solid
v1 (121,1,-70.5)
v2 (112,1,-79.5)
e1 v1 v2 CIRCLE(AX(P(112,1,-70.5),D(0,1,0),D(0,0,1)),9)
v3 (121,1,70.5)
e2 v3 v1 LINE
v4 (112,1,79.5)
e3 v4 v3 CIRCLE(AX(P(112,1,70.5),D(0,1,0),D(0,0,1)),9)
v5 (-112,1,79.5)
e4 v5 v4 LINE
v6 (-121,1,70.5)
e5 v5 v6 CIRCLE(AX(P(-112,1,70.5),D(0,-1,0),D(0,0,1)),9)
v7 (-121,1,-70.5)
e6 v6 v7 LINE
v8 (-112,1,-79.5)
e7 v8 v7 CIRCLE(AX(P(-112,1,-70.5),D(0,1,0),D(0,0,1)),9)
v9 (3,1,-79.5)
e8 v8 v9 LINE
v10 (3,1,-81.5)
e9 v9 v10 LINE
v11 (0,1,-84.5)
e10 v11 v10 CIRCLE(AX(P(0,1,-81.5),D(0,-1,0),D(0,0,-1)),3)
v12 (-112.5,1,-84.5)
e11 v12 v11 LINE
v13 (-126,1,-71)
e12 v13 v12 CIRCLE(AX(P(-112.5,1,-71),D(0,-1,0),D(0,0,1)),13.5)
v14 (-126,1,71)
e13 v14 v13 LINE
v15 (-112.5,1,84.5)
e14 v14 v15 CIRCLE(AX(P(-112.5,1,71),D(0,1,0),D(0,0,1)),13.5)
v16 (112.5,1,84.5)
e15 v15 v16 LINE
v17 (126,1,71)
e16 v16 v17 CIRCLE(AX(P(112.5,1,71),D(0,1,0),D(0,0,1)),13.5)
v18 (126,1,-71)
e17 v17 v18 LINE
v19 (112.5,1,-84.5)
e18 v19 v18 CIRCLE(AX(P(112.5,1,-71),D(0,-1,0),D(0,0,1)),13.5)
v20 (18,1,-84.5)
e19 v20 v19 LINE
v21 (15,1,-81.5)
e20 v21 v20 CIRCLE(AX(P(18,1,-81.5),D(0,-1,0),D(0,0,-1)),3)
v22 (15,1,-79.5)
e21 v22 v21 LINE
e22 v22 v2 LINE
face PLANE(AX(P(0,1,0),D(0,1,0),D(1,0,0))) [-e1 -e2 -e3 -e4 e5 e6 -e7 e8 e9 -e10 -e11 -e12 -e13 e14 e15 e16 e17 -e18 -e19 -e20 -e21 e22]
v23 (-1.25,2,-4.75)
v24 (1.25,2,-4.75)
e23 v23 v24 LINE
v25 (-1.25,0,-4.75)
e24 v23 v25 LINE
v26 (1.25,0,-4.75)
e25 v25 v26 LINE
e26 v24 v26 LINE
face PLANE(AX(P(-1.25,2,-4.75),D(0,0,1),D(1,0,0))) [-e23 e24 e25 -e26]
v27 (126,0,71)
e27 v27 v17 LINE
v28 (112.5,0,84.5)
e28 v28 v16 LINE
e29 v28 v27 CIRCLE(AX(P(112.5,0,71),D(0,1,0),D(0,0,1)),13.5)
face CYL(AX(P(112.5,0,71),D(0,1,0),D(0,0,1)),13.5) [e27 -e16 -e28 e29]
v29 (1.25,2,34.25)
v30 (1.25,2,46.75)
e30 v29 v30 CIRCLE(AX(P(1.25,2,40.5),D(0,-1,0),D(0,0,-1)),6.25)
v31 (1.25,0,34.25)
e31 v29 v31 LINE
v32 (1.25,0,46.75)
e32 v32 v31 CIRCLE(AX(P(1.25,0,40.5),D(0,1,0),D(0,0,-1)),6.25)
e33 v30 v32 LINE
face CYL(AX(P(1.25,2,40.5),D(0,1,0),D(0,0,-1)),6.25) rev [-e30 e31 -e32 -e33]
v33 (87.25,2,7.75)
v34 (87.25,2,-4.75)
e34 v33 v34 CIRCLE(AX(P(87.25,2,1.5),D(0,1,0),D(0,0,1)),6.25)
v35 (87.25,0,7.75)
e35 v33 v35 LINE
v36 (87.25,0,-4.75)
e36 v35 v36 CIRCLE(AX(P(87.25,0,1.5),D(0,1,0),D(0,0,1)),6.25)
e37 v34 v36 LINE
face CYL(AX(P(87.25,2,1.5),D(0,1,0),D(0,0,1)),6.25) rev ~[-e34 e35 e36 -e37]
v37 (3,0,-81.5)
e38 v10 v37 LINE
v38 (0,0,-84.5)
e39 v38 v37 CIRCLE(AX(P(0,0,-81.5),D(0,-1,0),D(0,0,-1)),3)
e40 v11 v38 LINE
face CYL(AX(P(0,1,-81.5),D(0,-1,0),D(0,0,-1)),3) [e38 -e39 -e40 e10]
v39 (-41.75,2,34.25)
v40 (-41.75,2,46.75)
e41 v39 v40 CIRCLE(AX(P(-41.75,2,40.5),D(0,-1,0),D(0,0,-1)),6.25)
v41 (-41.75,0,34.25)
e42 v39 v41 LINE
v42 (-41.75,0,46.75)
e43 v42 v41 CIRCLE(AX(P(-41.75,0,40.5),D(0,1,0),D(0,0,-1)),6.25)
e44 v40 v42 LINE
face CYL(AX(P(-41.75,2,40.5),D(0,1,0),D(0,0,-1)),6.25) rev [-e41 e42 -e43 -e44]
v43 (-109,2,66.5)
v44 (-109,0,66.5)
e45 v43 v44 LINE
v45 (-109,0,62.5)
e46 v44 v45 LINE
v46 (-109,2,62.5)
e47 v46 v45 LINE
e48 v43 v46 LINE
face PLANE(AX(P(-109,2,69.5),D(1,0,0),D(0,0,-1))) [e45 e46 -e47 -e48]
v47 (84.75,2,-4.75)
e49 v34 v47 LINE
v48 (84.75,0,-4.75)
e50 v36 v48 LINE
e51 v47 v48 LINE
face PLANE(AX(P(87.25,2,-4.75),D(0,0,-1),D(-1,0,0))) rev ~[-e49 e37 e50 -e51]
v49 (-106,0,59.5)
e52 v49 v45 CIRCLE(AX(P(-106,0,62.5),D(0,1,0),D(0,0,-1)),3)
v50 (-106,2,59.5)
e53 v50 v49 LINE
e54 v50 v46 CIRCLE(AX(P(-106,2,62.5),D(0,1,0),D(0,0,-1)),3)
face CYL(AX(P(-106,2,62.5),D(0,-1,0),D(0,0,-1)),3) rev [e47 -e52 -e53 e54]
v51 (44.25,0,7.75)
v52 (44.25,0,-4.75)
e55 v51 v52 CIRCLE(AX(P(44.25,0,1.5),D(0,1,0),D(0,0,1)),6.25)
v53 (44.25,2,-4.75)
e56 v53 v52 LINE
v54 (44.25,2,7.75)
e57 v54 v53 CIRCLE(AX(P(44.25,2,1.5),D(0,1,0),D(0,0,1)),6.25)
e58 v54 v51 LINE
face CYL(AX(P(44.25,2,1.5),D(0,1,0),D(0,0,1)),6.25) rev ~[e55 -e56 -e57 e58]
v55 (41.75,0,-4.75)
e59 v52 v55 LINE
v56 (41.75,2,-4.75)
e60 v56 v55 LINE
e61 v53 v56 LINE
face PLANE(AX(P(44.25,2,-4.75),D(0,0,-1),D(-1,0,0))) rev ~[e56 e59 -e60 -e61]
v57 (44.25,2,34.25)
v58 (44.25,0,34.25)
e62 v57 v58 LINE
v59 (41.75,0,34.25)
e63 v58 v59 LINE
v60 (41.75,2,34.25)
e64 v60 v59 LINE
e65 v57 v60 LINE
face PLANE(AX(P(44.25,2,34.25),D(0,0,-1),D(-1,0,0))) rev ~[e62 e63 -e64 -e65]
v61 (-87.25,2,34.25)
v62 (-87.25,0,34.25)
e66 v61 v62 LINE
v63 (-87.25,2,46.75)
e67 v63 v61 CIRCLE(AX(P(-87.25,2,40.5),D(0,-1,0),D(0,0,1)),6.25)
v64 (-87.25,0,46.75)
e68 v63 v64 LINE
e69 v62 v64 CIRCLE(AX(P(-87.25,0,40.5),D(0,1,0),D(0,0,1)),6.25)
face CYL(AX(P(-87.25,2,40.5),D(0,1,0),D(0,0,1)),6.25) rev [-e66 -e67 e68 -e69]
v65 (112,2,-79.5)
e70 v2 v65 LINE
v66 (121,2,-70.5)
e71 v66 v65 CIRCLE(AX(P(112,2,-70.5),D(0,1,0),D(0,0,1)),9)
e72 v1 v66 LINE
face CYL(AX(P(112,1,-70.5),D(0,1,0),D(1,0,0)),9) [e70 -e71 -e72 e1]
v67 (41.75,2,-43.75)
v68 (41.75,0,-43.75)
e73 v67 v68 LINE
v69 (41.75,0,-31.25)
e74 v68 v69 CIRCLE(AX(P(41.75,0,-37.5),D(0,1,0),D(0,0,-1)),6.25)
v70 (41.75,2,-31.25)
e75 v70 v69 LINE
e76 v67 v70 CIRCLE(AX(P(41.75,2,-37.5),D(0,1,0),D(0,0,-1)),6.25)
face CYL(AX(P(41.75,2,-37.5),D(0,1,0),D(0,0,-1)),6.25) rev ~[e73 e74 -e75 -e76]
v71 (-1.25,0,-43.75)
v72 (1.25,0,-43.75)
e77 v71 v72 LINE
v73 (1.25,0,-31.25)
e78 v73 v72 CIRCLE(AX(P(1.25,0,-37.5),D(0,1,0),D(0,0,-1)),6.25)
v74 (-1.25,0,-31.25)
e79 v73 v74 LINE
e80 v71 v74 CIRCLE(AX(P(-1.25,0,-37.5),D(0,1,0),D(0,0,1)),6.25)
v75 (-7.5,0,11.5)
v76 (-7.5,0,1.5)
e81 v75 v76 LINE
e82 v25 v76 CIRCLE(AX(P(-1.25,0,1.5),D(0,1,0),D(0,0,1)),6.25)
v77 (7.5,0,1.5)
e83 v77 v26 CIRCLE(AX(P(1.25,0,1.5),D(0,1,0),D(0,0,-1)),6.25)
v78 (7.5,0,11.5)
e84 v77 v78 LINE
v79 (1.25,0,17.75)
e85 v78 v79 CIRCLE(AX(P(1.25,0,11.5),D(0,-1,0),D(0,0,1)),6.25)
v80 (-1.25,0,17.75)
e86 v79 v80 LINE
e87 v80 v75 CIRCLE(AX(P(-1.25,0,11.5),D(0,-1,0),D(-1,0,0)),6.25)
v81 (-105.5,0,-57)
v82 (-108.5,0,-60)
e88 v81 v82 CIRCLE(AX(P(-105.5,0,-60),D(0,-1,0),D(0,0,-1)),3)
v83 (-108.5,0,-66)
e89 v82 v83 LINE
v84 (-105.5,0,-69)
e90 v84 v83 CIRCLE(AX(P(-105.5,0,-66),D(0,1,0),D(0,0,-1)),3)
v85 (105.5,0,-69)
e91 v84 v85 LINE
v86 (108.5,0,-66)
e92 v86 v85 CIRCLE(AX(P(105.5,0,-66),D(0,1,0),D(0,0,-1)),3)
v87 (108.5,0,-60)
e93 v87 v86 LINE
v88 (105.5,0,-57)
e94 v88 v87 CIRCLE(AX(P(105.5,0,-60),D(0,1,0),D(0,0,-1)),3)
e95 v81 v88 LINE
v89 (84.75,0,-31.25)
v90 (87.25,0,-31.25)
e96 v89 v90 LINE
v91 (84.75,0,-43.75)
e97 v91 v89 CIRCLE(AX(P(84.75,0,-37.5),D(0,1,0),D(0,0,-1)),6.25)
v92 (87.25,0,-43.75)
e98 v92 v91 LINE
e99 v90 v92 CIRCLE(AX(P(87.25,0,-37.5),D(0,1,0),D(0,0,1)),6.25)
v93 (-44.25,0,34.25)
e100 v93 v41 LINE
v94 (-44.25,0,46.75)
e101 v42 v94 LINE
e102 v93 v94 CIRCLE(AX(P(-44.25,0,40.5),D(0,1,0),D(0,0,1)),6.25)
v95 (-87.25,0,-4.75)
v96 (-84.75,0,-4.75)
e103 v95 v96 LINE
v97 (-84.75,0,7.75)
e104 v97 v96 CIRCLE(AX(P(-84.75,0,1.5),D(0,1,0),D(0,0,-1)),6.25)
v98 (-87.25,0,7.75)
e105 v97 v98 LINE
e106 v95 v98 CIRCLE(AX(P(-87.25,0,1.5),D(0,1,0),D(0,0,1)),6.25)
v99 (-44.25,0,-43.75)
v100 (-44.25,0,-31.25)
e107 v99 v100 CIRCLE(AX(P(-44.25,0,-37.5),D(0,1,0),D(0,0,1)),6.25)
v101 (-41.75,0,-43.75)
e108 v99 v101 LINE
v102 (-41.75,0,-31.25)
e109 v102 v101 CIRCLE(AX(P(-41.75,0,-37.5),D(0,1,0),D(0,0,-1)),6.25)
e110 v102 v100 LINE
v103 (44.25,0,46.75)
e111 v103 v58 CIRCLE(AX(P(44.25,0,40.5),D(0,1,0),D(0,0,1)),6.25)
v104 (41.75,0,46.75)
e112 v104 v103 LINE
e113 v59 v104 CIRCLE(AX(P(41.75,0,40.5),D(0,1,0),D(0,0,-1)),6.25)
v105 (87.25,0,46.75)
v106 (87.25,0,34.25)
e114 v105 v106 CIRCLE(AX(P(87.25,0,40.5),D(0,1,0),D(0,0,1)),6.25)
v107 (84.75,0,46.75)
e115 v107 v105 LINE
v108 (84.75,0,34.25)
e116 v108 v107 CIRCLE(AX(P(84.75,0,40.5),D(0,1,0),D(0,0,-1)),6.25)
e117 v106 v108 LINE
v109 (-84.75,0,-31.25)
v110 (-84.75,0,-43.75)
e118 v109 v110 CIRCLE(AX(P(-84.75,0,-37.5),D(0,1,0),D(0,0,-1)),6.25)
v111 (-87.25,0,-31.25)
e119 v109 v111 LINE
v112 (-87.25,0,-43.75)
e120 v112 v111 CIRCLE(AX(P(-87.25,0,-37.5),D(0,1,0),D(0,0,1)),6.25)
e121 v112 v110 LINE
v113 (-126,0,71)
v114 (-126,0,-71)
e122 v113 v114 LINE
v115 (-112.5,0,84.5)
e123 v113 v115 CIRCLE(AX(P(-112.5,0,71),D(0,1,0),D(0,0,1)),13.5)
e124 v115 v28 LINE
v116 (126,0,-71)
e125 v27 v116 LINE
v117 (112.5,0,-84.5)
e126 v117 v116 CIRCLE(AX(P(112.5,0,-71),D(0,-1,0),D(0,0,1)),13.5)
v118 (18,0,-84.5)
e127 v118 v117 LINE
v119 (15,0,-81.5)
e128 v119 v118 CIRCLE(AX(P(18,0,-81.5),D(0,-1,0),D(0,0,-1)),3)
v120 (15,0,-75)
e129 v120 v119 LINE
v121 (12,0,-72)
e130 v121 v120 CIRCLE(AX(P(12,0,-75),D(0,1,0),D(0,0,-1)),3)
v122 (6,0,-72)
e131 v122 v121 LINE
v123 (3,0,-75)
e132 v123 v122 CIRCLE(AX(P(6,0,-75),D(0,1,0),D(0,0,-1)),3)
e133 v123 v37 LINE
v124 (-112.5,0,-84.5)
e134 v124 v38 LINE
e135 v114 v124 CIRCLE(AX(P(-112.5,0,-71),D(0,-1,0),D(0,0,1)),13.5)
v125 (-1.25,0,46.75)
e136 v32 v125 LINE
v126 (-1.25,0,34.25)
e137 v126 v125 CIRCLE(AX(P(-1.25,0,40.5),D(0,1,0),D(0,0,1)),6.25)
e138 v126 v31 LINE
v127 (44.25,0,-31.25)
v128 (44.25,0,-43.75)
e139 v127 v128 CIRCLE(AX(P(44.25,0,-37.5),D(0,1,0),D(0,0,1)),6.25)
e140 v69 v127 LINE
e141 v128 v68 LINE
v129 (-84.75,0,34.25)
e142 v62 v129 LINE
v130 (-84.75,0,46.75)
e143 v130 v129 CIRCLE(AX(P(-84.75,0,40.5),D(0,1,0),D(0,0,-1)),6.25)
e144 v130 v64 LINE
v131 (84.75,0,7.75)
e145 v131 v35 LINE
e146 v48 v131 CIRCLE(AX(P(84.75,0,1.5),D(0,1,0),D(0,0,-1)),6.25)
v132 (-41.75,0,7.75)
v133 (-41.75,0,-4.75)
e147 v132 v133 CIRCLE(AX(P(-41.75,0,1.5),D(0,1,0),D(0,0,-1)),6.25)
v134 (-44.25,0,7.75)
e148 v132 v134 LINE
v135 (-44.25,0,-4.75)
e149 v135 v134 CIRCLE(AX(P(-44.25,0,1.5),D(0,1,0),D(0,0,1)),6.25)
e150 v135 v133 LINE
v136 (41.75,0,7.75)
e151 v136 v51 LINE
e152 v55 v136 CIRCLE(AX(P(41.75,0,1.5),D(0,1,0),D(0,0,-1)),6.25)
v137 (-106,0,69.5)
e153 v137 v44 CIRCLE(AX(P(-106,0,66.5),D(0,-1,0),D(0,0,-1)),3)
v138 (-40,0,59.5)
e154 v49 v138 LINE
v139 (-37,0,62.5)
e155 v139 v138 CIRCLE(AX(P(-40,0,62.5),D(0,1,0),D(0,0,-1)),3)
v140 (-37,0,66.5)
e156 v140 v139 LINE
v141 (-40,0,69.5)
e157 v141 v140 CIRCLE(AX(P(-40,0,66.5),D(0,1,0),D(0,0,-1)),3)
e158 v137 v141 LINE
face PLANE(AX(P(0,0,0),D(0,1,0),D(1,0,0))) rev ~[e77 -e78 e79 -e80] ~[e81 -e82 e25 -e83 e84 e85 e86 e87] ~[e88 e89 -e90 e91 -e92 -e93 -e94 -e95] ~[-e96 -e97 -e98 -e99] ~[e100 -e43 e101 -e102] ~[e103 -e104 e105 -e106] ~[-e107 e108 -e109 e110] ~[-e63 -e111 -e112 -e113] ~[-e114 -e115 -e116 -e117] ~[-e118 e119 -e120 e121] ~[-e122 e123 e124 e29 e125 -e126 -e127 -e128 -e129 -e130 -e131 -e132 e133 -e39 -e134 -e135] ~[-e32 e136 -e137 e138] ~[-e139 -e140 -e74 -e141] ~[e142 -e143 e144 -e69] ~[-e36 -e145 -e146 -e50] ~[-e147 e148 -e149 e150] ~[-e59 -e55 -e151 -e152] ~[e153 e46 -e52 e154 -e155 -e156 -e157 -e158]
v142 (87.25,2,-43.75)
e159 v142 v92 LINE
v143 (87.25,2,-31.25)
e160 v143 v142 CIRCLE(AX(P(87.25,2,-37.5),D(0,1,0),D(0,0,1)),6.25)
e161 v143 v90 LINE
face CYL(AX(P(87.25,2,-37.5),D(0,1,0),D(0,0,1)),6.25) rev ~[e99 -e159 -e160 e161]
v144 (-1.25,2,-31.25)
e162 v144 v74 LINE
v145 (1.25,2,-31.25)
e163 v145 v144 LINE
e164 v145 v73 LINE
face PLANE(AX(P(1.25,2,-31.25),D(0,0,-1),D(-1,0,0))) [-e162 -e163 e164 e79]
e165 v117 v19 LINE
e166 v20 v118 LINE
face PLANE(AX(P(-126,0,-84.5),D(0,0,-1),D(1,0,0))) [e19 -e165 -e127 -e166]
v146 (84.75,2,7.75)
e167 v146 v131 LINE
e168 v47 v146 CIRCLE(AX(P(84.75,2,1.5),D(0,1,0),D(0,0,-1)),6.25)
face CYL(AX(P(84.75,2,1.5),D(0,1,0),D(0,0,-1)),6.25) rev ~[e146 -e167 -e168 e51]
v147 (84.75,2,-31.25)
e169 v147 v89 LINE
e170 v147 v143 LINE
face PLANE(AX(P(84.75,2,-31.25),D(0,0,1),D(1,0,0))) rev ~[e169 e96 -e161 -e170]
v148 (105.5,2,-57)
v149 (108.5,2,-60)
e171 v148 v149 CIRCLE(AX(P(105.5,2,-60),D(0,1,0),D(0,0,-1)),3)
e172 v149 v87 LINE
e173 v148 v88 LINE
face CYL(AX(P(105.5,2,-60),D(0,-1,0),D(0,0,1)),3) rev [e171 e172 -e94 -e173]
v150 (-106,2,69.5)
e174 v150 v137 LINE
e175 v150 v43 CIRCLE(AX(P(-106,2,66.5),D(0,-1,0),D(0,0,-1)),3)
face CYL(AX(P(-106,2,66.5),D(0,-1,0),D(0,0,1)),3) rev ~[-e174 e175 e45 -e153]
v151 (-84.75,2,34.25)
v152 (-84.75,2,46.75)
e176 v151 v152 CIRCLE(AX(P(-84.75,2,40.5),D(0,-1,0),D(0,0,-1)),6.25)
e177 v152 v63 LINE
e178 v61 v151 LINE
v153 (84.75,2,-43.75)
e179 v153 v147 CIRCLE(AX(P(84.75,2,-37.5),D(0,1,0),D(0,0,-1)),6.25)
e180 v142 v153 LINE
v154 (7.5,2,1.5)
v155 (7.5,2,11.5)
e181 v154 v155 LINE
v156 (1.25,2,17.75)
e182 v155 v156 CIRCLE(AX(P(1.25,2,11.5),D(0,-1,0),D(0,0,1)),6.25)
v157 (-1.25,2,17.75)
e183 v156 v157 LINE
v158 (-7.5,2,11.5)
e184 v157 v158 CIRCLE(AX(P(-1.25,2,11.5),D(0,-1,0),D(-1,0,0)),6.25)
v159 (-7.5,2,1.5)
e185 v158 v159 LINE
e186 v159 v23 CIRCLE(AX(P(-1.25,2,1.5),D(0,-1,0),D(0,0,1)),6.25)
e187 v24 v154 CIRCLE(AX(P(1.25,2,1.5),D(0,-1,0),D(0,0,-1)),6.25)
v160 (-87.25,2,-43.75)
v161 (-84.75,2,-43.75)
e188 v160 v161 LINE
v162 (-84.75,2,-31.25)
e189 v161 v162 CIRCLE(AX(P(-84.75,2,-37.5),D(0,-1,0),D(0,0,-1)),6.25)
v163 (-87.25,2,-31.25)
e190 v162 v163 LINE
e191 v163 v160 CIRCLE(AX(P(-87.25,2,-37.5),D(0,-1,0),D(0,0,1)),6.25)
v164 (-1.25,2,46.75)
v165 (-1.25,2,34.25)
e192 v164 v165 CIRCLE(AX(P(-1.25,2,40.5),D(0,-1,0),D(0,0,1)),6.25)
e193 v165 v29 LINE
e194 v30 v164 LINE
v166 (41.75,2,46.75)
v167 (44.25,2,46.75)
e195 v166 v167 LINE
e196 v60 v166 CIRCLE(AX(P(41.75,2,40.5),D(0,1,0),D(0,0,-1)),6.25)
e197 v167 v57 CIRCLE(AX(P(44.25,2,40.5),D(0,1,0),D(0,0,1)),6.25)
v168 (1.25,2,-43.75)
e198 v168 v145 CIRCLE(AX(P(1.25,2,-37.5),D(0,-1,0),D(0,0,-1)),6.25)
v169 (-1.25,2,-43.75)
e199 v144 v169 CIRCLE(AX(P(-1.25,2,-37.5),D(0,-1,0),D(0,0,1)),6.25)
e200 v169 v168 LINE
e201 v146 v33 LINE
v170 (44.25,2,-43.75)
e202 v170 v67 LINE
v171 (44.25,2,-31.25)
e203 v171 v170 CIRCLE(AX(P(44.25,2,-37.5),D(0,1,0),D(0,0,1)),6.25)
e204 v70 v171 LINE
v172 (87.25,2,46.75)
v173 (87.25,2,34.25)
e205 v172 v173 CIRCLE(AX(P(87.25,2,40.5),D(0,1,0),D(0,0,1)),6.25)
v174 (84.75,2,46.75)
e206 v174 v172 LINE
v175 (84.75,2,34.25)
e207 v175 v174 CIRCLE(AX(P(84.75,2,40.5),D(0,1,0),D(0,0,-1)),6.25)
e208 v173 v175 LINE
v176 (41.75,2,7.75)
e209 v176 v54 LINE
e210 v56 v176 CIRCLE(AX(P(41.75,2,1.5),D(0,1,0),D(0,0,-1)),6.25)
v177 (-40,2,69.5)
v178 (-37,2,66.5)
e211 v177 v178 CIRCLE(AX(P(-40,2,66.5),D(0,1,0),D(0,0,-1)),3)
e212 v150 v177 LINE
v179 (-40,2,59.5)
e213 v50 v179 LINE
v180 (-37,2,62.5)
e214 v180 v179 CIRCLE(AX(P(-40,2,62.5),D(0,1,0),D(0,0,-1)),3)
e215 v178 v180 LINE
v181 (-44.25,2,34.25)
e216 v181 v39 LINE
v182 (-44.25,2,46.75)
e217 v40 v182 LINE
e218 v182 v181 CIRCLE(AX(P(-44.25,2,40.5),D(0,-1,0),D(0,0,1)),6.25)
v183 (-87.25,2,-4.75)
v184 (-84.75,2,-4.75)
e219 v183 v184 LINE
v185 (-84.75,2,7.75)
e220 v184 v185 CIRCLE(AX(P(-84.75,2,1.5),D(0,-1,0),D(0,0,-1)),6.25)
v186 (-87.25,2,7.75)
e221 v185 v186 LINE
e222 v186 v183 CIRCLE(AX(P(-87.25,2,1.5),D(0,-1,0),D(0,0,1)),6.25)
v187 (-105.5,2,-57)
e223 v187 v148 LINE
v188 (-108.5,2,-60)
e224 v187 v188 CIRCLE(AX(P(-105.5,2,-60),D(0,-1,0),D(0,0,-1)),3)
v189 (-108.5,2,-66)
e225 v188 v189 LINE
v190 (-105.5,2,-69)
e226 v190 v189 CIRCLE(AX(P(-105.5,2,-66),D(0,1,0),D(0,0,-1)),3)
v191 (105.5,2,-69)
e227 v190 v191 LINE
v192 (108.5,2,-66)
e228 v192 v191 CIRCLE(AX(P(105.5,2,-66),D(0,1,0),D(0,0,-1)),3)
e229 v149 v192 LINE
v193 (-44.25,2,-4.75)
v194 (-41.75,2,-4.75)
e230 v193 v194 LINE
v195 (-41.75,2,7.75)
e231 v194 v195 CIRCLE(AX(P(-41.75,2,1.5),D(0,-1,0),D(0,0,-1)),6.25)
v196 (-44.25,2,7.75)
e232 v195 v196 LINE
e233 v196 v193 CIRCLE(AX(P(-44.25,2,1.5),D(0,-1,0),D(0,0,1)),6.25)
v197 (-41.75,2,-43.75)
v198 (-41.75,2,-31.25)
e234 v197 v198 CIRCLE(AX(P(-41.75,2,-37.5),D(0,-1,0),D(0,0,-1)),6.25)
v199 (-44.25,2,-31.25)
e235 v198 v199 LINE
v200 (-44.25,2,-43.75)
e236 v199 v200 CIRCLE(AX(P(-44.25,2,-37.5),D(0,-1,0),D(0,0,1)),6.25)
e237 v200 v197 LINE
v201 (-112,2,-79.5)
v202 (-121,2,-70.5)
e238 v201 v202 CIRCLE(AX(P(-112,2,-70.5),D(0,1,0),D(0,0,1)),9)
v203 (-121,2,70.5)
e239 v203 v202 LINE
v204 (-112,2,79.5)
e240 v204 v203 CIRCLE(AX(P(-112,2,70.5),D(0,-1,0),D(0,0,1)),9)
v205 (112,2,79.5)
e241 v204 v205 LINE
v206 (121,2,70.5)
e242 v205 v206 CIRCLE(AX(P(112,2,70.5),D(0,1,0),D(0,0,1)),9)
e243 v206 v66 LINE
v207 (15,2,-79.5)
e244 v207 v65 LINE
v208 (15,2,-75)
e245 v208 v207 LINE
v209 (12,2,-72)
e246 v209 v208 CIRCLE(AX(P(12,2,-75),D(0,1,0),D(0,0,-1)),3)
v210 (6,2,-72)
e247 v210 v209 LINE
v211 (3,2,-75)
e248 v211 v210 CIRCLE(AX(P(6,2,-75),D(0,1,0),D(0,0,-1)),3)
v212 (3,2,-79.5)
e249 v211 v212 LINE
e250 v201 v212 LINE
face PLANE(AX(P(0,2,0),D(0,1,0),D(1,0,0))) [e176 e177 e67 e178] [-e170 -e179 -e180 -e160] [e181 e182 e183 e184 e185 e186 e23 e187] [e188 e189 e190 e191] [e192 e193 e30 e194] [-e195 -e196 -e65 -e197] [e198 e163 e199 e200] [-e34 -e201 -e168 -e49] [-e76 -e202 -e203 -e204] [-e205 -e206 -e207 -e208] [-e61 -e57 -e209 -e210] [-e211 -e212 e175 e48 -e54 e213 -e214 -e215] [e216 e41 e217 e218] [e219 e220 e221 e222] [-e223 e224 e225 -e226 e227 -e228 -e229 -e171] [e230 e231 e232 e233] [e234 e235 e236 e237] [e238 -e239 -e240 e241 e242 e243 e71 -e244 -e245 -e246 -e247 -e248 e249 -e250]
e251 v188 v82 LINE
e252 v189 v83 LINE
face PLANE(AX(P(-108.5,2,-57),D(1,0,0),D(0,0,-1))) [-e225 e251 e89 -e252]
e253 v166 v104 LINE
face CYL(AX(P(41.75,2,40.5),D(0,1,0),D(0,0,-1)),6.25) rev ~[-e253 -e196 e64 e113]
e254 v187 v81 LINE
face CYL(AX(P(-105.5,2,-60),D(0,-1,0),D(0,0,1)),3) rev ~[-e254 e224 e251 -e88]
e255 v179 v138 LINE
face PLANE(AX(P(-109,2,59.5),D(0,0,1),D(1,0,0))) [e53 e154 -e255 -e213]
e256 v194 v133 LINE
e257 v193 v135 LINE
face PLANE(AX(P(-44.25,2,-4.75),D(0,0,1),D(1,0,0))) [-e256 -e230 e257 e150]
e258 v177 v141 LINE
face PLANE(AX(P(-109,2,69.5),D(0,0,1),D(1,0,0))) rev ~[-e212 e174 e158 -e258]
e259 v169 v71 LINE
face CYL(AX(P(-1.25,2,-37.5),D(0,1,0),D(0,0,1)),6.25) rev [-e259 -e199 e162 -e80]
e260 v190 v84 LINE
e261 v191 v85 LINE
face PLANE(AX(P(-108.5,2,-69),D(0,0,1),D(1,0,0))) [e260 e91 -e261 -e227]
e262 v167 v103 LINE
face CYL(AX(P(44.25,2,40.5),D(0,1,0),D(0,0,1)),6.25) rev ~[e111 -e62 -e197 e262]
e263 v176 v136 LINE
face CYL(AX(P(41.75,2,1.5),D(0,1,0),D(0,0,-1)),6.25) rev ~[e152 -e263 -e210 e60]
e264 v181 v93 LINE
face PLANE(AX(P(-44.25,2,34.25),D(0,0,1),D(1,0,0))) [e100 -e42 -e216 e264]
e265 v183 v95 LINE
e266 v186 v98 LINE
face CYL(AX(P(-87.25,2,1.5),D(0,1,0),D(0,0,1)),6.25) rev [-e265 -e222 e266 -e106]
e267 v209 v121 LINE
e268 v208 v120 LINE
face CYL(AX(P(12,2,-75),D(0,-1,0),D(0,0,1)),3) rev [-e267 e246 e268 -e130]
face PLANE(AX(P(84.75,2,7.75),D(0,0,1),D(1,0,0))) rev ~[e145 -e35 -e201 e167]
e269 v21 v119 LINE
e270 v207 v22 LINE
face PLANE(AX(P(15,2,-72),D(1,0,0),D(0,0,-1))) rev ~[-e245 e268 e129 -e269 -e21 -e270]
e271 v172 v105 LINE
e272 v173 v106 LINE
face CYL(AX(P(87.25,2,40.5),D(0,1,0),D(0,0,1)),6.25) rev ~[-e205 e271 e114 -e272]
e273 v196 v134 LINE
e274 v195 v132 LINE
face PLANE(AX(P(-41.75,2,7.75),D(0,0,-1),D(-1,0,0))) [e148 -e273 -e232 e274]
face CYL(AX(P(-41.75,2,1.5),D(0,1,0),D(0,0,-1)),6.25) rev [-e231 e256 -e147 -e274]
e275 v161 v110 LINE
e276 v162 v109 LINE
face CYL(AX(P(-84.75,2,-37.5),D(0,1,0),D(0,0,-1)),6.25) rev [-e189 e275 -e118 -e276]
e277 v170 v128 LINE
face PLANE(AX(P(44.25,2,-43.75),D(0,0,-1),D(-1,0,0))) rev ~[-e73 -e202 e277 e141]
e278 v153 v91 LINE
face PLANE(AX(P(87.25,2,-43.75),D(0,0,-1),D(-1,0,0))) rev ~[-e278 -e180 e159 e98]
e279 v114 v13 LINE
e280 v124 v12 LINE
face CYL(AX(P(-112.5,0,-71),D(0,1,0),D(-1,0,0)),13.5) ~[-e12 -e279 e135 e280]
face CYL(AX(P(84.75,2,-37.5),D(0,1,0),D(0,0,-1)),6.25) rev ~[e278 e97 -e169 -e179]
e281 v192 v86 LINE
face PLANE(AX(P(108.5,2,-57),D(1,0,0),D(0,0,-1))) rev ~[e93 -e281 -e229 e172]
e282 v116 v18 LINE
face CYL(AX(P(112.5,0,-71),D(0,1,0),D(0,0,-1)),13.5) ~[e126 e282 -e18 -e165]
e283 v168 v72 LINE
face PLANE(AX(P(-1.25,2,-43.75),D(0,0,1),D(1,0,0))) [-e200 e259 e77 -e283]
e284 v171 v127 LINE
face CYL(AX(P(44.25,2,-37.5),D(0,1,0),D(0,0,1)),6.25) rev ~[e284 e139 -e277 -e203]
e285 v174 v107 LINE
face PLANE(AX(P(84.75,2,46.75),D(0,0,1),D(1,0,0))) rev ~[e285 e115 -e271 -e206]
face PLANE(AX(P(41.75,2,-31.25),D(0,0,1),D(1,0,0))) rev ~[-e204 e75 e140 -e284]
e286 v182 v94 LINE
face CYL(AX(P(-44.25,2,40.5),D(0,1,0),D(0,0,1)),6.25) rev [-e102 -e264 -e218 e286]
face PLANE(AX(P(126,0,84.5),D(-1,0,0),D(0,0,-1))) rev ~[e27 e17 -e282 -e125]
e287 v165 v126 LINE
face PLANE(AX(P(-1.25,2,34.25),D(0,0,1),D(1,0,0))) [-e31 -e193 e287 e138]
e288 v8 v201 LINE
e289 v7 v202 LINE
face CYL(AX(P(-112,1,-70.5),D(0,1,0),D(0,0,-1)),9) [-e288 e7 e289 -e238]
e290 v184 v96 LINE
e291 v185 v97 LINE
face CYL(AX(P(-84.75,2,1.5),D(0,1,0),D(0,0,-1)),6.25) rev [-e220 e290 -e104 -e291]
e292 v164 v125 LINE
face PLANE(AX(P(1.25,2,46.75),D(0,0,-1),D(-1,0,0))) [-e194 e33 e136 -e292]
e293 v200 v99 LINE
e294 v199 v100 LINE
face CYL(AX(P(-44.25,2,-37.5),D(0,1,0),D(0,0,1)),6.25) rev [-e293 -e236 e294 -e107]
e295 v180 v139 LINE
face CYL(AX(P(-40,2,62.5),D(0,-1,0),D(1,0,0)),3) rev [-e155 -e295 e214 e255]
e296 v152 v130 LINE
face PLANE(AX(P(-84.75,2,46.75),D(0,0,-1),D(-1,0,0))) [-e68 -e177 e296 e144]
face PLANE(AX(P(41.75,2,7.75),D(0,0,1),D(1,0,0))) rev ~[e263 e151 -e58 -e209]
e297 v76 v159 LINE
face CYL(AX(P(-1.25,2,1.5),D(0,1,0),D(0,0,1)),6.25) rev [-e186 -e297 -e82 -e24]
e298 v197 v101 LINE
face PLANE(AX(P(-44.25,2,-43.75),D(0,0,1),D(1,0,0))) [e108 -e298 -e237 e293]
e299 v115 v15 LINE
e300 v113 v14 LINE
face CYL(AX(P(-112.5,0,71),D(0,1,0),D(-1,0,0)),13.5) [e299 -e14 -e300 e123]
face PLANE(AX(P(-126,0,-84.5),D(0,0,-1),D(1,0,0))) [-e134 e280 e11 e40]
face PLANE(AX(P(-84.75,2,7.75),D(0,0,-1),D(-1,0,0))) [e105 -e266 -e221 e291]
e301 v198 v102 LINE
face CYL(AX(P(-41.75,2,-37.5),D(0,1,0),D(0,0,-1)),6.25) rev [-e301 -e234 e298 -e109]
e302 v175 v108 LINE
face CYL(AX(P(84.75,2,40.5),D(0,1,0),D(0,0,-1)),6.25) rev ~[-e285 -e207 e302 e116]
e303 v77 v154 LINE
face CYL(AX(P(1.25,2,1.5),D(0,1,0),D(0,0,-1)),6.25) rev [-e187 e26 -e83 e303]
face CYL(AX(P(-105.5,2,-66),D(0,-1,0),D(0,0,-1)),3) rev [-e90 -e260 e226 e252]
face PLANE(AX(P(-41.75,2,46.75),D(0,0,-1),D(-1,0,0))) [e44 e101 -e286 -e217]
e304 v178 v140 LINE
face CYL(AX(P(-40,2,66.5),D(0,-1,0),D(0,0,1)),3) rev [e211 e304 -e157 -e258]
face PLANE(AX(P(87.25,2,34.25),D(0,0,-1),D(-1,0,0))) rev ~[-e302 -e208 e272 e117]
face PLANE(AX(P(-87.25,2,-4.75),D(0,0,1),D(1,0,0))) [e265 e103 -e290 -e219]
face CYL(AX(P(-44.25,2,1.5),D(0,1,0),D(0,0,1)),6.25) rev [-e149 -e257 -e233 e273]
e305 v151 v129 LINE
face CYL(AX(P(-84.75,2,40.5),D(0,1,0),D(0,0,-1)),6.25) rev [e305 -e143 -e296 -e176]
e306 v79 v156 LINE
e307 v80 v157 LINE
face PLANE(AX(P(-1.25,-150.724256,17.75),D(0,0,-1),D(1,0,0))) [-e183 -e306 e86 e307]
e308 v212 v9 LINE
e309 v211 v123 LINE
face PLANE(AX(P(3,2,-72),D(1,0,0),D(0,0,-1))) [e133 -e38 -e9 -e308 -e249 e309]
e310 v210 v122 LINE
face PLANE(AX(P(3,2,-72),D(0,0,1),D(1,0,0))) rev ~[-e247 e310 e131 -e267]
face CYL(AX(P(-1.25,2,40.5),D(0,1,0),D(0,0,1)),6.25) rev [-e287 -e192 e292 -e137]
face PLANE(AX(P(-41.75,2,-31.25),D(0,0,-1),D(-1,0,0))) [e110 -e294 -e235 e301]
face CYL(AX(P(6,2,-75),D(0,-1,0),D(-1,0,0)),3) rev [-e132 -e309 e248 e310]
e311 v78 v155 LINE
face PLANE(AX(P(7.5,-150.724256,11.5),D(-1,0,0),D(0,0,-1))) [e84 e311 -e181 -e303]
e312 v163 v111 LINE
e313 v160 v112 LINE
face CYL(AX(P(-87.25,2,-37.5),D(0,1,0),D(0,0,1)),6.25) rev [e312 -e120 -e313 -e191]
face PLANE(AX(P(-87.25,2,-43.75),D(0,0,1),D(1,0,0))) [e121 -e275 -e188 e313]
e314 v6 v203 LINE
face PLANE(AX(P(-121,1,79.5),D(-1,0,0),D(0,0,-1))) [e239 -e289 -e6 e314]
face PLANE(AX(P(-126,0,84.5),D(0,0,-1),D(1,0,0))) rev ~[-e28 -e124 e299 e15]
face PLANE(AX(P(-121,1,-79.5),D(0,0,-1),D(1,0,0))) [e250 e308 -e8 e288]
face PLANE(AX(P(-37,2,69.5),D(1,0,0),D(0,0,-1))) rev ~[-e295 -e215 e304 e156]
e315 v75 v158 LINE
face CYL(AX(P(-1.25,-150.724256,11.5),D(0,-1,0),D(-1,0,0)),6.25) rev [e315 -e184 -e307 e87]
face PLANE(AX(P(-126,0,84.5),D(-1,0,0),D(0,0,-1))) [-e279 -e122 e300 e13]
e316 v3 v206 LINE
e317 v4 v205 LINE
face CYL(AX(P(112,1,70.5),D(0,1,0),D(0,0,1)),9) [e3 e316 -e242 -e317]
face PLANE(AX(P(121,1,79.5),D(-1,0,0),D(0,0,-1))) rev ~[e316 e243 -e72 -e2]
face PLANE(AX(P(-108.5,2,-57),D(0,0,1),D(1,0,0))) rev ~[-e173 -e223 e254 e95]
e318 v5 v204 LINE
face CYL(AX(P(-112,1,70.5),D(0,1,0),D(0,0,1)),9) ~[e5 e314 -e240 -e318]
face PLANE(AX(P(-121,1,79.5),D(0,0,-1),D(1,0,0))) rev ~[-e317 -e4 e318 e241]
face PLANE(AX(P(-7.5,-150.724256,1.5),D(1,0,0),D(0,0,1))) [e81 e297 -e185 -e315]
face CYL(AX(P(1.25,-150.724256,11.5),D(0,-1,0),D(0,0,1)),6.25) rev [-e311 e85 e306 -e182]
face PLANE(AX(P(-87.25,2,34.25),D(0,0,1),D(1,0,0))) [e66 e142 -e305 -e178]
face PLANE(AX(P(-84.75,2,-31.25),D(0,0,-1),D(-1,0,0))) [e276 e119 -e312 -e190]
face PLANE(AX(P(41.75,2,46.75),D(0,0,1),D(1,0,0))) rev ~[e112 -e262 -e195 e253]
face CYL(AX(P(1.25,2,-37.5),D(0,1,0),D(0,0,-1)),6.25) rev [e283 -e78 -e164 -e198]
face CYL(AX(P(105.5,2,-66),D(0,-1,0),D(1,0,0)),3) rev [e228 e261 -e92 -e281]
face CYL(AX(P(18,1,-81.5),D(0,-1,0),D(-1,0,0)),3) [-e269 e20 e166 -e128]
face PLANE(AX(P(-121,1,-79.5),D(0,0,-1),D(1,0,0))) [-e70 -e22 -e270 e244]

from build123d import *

# Parameters (mm, degrees)
SKETCH1_W                = 252
SKETCH1_H                = 169
OUTER_PROFILE_DEPTH      = 1
SKETCH2_W                = 242
SKETCH2_H                = 159
INNER_PROFILE_DEPTH      = 1
FILLET1_R                = 9
FILLET2_R                = 13.5
CUTOUT_DEPTH             = 152.724256465
CUTOUTS_COUNT            = 3
CUTOUTS_PITCH            = 43
CUTOUTS_COUNT_DIR2       = 3
CUTOUTS_PITCH_DIR2       = 39
MIRROR1_COPY_1_DEPTH     = 152.724256465
MIRROR1_COPY_2_DEPTH     = 152.724256465
MIRROR1_COPY_3_DEPTH     = 152.724256465
MIRROR1_COPY_4_DEPTH     = 152.724256465
MIRROR1_COPY_5_DEPTH     = 152.724256465
MIRROR1_COPY_6_DEPTH     = 152.724256465
MIRROR1_COPY_7_DEPTH     = 152.724256465
MIRROR1_COPY_8_DEPTH     = 152.724256465
MIRROR1_COPY_9_DEPTH     = 152.724256465
SKETCH4_W                = 217
SKETCH4_H                = 12
MESSAGE_WINDOW_DEPTH     = 152.724256465
MESSAGE_WINDOW_CORNERS_R = 3
SKETCH5_W                = 12
SKETCH5_H                = 12.5
CAMERA_CUTOUT_DEPTH      = 152.724256465
FILLET3_R                = 3
CUT_EXTRUDE1_DEPTH       = 152.724256465
CUT_EXTRUDE1_DEPTH_BACK  = 152.724256465
SKETCH7_W                = 72
SKETCH7_H                = 10
CUT_EXTRUDE2_DEPTH       = 10
FILLET5_R                = 3


with BuildPart() as part:
    # Sketch1 → Outer Profile (new body)
    with BuildSketch(Plane(origin=(0, 0, 0), x_dir=(1, 0, 0), z_dir=(0, 1, 0))):
        Rectangle(SKETCH1_W, SKETCH1_H)
    extrude(amount=OUTER_PROFILE_DEPTH)

    # Sketch2 → Inner Profile (add)
    with BuildSketch(Plane(origin=(0, 1, 0), x_dir=(1, 0, 0), z_dir=(0, 1, 0))):
        Rectangle(SKETCH2_W, SKETCH2_H)
    extrude(amount=INNER_PROFILE_DEPTH)

    # Fillet1
    fillet1_edges = [part.edges().sort_by_distance(p)[0] for p in [
        (121, 1.5, 79.5),
        (121, 1.5, -79.5),
        (-121, 1.5, -79.5),
        (-121, 1.5, 79.5),
    ]]
    fillet(fillet1_edges, radius=FILLET1_R)

    # Fillet2
    fillet2_edges = [part.edges().sort_by_distance(p)[0] for p in [
        (126, 0.5, 84.5),
        (-126, 0.5, 84.5),
        (-126, 0.5, -84.5),
        (126, 0.5, -84.5),
    ]]
    fillet(fillet2_edges, radius=FILLET2_R)

    # Sketch3 → Cutout (cut, through all)
    with BuildSketch(Plane(origin=(0, 2, 0), x_dir=(1, 0, 0), z_dir=(0, 1, 0))):
        with BuildLine():
            Line((-1.25, -34.25), (1.25, -34.25))
            ThreePointArc((1.25, -34.25), (7.5, -40.5), (1.25, -46.75))
            Line((1.25, -46.75), (-1.25, -46.75))
            ThreePointArc((-1.25, -46.75), (-7.5, -40.5), (-1.25, -34.25))
        make_face()
    cutout = extrude(amount=-CUTOUT_DEPTH, mode=Mode.SUBTRACT)

    # Cutouts: Cutout 3 × 3
    with Locations(*[(-i * CUTOUTS_PITCH, 0, -j * CUTOUTS_PITCH_DIR2) for i in range(CUTOUTS_COUNT) for j in range(CUTOUTS_COUNT_DIR2) if (i, j) != (0, 0)]):
        add(cutout, mode=Mode.SUBTRACT)

    # Mirror1 copy 1 sketch → Mirror1 copy 1 (cut, through all)
    with BuildSketch(Plane(origin=(0, 2, -39), x_dir=(-1, 0, 0), z_dir=(0, 1, 0))):
        with BuildLine():
            Line((-1.25, 34.25), (1.25, 34.25))
            ThreePointArc((1.25, 34.25), (7.5, 40.5), (1.25, 46.75))
            Line((1.25, 46.75), (-1.25, 46.75))
            ThreePointArc((-1.25, 46.75), (-7.5, 40.5), (-1.25, 34.25))
        make_face()
    extrude(amount=-MIRROR1_COPY_1_DEPTH, mode=Mode.SUBTRACT)

    # Mirror1 copy 2 sketch → Mirror1 copy 2 (cut, through all)
    with BuildSketch(Plane(origin=(0, 2, -78), x_dir=(-1, 0, 0), z_dir=(0, 1, 0))):
        with BuildLine():
            Line((-1.25, 34.25), (1.25, 34.25))
            ThreePointArc((1.25, 34.25), (7.5, 40.5), (1.25, 46.75))
            Line((1.25, 46.75), (-1.25, 46.75))
            ThreePointArc((-1.25, 46.75), (-7.5, 40.5), (-1.25, 34.25))
        make_face()
    extrude(amount=-MIRROR1_COPY_2_DEPTH, mode=Mode.SUBTRACT)

    # Mirror1 copy 3 sketch → Mirror1 copy 3 (cut, through all)
    with BuildSketch(Plane(origin=(43, 2, 0), x_dir=(-1, 0, 0), z_dir=(0, 1, 0))):
        with BuildLine():
            Line((-1.25, 34.25), (1.25, 34.25))
            ThreePointArc((1.25, 34.25), (7.5, 40.5), (1.25, 46.75))
            Line((1.25, 46.75), (-1.25, 46.75))
            ThreePointArc((-1.25, 46.75), (-7.5, 40.5), (-1.25, 34.25))
        make_face()
    extrude(amount=-MIRROR1_COPY_3_DEPTH, mode=Mode.SUBTRACT)

    # Mirror1 copy 4 sketch → Mirror1 copy 4 (cut, through all)
    with BuildSketch(Plane(origin=(43, 2, -39), x_dir=(-1, 0, 0), z_dir=(0, 1, 0))):
        with BuildLine():
            Line((-1.25, 34.25), (1.25, 34.25))
            ThreePointArc((1.25, 34.25), (7.5, 40.5), (1.25, 46.75))
            Line((1.25, 46.75), (-1.25, 46.75))
            ThreePointArc((-1.25, 46.75), (-7.5, 40.5), (-1.25, 34.25))
        make_face()
    extrude(amount=-MIRROR1_COPY_4_DEPTH, mode=Mode.SUBTRACT)

    # Mirror1 copy 5 sketch → Mirror1 copy 5 (cut, through all)
    with BuildSketch(Plane(origin=(43, 2, -78), x_dir=(-1, 0, 0), z_dir=(0, 1, 0))):
        with BuildLine():
            Line((-1.25, 34.25), (1.25, 34.25))
            ThreePointArc((1.25, 34.25), (7.5, 40.5), (1.25, 46.75))
            Line((1.25, 46.75), (-1.25, 46.75))
            ThreePointArc((-1.25, 46.75), (-7.5, 40.5), (-1.25, 34.25))
        make_face()
    extrude(amount=-MIRROR1_COPY_5_DEPTH, mode=Mode.SUBTRACT)

    # Mirror1 copy 6 sketch → Mirror1 copy 6 (cut, through all)
    with BuildSketch(Plane(origin=(86, 2, 0), x_dir=(-1, 0, 0), z_dir=(0, 1, 0))):
        with BuildLine():
            Line((-1.25, 34.25), (1.25, 34.25))
            ThreePointArc((1.25, 34.25), (7.5, 40.5), (1.25, 46.75))
            Line((1.25, 46.75), (-1.25, 46.75))
            ThreePointArc((-1.25, 46.75), (-7.5, 40.5), (-1.25, 34.25))
        make_face()
    extrude(amount=-MIRROR1_COPY_6_DEPTH, mode=Mode.SUBTRACT)

    # Mirror1 copy 7 sketch → Mirror1 copy 7 (cut, through all)
    with BuildSketch(Plane(origin=(86, 2, -39), x_dir=(-1, 0, 0), z_dir=(0, 1, 0))):
        with BuildLine():
            Line((-1.25, 34.25), (1.25, 34.25))
            ThreePointArc((1.25, 34.25), (7.5, 40.5), (1.25, 46.75))
            Line((1.25, 46.75), (-1.25, 46.75))
            ThreePointArc((-1.25, 46.75), (-7.5, 40.5), (-1.25, 34.25))
        make_face()
    extrude(amount=-MIRROR1_COPY_7_DEPTH, mode=Mode.SUBTRACT)

    # Mirror1 copy 8 sketch → Mirror1 copy 8 (cut, through all)
    with BuildSketch(Plane(origin=(86, 2, -78), x_dir=(-1, 0, 0), z_dir=(0, 1, 0))):
        with BuildLine():
            Line((-1.25, 34.25), (1.25, 34.25))
            ThreePointArc((1.25, 34.25), (7.5, 40.5), (1.25, 46.75))
            Line((1.25, 46.75), (-1.25, 46.75))
            ThreePointArc((-1.25, 46.75), (-7.5, 40.5), (-1.25, 34.25))
        make_face()
    extrude(amount=-MIRROR1_COPY_8_DEPTH, mode=Mode.SUBTRACT)

    # Mirror1 copy 9 sketch → Mirror1 copy 9 (cut, through all)
    with BuildSketch(Plane(origin=(0, 2, 0), x_dir=(-1, 0, 0), z_dir=(0, 1, 0))):
        with BuildLine():
            Line((-1.25, 34.25), (1.25, 34.25))
            ThreePointArc((1.25, 34.25), (7.5, 40.5), (1.25, 46.75))
            Line((1.25, 46.75), (-1.25, 46.75))
            ThreePointArc((-1.25, 46.75), (-7.5, 40.5), (-1.25, 34.25))
        make_face()
    extrude(amount=-MIRROR1_COPY_9_DEPTH, mode=Mode.SUBTRACT)

    # Sketch4 → Message Window (cut, through all)
    with BuildSketch(Plane(origin=(0, 2, 0), x_dir=(1, 0, 0), z_dir=(0, 1, 0))):
        with Locations((0, 63)):
            Rectangle(SKETCH4_W, SKETCH4_H)
    extrude(amount=-MESSAGE_WINDOW_DEPTH, mode=Mode.SUBTRACT)

    # Message Window Corners
    message_window_corners_edges = [part.edges().sort_by_distance(p)[0] for p in [
        (-108.5, 1, -57),
        (-108.5, 1, -69),
        (108.5, 1, -69),
        (108.5, 1, -57),
    ]]
    fillet(message_window_corners_edges, radius=MESSAGE_WINDOW_CORNERS_R)

    # Sketch5 → Camera Cutout (cut, through all)
    with BuildSketch(Plane(origin=(0, 2, 0), x_dir=(1, 0, 0), z_dir=(0, 1, 0))):
        with Locations((9, 78.25)):
            Rectangle(SKETCH5_W, SKETCH5_H)
    extrude(amount=-CAMERA_CUTOUT_DEPTH, mode=Mode.SUBTRACT)

    # Fillet3
    fillet3_edges = [part.edges().sort_by_distance(p)[0] for p in [
        (3, 0.5, -84.5),
        (3, 1, -72),
        (15, 0.5, -84.5),
        (15, 1, -72),
    ]]
    fillet(fillet3_edges, radius=FILLET3_R)

    # Sketch6 → Cut-Extrude1 (cut, two sides: drawn at the far end of the back side and taken through both)
    with BuildSketch(Plane(origin=(0, 2, 0), x_dir=(1, 0, 0), z_dir=(0, 1, 0)).offset(-CUT_EXTRUDE1_DEPTH_BACK)):
        with BuildLine():
            ThreePointArc((-1.25, -7.75), (-5.669417382, -5.919417382), (-7.5, -1.5))
            Line((-7.5, -1.5), (-7.5, -11.5))
            ThreePointArc((-7.5, -11.5), (-5.669417382, -15.919417382), (-1.25, -17.75))
            Line((-1.25, -17.75), (1.25, -17.75))
            ThreePointArc((1.25, -17.75), (5.669417382, -15.919417382), (7.5, -11.5))
            Line((7.5, -11.5), (7.5, -1.5))
            ThreePointArc((7.5, -1.5), (5.669417382, -5.919417382), (1.25, -7.75))
            Line((1.25, -7.75), (-1.25, -7.75))
        make_face()
    extrude(amount=CUT_EXTRUDE1_DEPTH + CUT_EXTRUDE1_DEPTH_BACK, mode=Mode.SUBTRACT)

    # Sketch7 → Cut-Extrude2 (cut)
    with BuildSketch(Plane(origin=(0, 2, 0), x_dir=(1, 0, 0), z_dir=(0, 1, 0))):
        with Locations((-73, -64.5)):
            Rectangle(SKETCH7_W, SKETCH7_H)
    extrude(amount=-CUT_EXTRUDE2_DEPTH, mode=Mode.SUBTRACT)

    # Fillet5
    fillet5_edges = [part.edges().sort_by_distance(p)[0] for p in [
        (-109, 1, 69.5),
        (-109, 1, 59.5),
        (-37, 1, 59.5),
        (-37, 1, 69.5),
    ]]
    fillet(fillet5_edges, radius=FILLET5_R)


solid = part.part
